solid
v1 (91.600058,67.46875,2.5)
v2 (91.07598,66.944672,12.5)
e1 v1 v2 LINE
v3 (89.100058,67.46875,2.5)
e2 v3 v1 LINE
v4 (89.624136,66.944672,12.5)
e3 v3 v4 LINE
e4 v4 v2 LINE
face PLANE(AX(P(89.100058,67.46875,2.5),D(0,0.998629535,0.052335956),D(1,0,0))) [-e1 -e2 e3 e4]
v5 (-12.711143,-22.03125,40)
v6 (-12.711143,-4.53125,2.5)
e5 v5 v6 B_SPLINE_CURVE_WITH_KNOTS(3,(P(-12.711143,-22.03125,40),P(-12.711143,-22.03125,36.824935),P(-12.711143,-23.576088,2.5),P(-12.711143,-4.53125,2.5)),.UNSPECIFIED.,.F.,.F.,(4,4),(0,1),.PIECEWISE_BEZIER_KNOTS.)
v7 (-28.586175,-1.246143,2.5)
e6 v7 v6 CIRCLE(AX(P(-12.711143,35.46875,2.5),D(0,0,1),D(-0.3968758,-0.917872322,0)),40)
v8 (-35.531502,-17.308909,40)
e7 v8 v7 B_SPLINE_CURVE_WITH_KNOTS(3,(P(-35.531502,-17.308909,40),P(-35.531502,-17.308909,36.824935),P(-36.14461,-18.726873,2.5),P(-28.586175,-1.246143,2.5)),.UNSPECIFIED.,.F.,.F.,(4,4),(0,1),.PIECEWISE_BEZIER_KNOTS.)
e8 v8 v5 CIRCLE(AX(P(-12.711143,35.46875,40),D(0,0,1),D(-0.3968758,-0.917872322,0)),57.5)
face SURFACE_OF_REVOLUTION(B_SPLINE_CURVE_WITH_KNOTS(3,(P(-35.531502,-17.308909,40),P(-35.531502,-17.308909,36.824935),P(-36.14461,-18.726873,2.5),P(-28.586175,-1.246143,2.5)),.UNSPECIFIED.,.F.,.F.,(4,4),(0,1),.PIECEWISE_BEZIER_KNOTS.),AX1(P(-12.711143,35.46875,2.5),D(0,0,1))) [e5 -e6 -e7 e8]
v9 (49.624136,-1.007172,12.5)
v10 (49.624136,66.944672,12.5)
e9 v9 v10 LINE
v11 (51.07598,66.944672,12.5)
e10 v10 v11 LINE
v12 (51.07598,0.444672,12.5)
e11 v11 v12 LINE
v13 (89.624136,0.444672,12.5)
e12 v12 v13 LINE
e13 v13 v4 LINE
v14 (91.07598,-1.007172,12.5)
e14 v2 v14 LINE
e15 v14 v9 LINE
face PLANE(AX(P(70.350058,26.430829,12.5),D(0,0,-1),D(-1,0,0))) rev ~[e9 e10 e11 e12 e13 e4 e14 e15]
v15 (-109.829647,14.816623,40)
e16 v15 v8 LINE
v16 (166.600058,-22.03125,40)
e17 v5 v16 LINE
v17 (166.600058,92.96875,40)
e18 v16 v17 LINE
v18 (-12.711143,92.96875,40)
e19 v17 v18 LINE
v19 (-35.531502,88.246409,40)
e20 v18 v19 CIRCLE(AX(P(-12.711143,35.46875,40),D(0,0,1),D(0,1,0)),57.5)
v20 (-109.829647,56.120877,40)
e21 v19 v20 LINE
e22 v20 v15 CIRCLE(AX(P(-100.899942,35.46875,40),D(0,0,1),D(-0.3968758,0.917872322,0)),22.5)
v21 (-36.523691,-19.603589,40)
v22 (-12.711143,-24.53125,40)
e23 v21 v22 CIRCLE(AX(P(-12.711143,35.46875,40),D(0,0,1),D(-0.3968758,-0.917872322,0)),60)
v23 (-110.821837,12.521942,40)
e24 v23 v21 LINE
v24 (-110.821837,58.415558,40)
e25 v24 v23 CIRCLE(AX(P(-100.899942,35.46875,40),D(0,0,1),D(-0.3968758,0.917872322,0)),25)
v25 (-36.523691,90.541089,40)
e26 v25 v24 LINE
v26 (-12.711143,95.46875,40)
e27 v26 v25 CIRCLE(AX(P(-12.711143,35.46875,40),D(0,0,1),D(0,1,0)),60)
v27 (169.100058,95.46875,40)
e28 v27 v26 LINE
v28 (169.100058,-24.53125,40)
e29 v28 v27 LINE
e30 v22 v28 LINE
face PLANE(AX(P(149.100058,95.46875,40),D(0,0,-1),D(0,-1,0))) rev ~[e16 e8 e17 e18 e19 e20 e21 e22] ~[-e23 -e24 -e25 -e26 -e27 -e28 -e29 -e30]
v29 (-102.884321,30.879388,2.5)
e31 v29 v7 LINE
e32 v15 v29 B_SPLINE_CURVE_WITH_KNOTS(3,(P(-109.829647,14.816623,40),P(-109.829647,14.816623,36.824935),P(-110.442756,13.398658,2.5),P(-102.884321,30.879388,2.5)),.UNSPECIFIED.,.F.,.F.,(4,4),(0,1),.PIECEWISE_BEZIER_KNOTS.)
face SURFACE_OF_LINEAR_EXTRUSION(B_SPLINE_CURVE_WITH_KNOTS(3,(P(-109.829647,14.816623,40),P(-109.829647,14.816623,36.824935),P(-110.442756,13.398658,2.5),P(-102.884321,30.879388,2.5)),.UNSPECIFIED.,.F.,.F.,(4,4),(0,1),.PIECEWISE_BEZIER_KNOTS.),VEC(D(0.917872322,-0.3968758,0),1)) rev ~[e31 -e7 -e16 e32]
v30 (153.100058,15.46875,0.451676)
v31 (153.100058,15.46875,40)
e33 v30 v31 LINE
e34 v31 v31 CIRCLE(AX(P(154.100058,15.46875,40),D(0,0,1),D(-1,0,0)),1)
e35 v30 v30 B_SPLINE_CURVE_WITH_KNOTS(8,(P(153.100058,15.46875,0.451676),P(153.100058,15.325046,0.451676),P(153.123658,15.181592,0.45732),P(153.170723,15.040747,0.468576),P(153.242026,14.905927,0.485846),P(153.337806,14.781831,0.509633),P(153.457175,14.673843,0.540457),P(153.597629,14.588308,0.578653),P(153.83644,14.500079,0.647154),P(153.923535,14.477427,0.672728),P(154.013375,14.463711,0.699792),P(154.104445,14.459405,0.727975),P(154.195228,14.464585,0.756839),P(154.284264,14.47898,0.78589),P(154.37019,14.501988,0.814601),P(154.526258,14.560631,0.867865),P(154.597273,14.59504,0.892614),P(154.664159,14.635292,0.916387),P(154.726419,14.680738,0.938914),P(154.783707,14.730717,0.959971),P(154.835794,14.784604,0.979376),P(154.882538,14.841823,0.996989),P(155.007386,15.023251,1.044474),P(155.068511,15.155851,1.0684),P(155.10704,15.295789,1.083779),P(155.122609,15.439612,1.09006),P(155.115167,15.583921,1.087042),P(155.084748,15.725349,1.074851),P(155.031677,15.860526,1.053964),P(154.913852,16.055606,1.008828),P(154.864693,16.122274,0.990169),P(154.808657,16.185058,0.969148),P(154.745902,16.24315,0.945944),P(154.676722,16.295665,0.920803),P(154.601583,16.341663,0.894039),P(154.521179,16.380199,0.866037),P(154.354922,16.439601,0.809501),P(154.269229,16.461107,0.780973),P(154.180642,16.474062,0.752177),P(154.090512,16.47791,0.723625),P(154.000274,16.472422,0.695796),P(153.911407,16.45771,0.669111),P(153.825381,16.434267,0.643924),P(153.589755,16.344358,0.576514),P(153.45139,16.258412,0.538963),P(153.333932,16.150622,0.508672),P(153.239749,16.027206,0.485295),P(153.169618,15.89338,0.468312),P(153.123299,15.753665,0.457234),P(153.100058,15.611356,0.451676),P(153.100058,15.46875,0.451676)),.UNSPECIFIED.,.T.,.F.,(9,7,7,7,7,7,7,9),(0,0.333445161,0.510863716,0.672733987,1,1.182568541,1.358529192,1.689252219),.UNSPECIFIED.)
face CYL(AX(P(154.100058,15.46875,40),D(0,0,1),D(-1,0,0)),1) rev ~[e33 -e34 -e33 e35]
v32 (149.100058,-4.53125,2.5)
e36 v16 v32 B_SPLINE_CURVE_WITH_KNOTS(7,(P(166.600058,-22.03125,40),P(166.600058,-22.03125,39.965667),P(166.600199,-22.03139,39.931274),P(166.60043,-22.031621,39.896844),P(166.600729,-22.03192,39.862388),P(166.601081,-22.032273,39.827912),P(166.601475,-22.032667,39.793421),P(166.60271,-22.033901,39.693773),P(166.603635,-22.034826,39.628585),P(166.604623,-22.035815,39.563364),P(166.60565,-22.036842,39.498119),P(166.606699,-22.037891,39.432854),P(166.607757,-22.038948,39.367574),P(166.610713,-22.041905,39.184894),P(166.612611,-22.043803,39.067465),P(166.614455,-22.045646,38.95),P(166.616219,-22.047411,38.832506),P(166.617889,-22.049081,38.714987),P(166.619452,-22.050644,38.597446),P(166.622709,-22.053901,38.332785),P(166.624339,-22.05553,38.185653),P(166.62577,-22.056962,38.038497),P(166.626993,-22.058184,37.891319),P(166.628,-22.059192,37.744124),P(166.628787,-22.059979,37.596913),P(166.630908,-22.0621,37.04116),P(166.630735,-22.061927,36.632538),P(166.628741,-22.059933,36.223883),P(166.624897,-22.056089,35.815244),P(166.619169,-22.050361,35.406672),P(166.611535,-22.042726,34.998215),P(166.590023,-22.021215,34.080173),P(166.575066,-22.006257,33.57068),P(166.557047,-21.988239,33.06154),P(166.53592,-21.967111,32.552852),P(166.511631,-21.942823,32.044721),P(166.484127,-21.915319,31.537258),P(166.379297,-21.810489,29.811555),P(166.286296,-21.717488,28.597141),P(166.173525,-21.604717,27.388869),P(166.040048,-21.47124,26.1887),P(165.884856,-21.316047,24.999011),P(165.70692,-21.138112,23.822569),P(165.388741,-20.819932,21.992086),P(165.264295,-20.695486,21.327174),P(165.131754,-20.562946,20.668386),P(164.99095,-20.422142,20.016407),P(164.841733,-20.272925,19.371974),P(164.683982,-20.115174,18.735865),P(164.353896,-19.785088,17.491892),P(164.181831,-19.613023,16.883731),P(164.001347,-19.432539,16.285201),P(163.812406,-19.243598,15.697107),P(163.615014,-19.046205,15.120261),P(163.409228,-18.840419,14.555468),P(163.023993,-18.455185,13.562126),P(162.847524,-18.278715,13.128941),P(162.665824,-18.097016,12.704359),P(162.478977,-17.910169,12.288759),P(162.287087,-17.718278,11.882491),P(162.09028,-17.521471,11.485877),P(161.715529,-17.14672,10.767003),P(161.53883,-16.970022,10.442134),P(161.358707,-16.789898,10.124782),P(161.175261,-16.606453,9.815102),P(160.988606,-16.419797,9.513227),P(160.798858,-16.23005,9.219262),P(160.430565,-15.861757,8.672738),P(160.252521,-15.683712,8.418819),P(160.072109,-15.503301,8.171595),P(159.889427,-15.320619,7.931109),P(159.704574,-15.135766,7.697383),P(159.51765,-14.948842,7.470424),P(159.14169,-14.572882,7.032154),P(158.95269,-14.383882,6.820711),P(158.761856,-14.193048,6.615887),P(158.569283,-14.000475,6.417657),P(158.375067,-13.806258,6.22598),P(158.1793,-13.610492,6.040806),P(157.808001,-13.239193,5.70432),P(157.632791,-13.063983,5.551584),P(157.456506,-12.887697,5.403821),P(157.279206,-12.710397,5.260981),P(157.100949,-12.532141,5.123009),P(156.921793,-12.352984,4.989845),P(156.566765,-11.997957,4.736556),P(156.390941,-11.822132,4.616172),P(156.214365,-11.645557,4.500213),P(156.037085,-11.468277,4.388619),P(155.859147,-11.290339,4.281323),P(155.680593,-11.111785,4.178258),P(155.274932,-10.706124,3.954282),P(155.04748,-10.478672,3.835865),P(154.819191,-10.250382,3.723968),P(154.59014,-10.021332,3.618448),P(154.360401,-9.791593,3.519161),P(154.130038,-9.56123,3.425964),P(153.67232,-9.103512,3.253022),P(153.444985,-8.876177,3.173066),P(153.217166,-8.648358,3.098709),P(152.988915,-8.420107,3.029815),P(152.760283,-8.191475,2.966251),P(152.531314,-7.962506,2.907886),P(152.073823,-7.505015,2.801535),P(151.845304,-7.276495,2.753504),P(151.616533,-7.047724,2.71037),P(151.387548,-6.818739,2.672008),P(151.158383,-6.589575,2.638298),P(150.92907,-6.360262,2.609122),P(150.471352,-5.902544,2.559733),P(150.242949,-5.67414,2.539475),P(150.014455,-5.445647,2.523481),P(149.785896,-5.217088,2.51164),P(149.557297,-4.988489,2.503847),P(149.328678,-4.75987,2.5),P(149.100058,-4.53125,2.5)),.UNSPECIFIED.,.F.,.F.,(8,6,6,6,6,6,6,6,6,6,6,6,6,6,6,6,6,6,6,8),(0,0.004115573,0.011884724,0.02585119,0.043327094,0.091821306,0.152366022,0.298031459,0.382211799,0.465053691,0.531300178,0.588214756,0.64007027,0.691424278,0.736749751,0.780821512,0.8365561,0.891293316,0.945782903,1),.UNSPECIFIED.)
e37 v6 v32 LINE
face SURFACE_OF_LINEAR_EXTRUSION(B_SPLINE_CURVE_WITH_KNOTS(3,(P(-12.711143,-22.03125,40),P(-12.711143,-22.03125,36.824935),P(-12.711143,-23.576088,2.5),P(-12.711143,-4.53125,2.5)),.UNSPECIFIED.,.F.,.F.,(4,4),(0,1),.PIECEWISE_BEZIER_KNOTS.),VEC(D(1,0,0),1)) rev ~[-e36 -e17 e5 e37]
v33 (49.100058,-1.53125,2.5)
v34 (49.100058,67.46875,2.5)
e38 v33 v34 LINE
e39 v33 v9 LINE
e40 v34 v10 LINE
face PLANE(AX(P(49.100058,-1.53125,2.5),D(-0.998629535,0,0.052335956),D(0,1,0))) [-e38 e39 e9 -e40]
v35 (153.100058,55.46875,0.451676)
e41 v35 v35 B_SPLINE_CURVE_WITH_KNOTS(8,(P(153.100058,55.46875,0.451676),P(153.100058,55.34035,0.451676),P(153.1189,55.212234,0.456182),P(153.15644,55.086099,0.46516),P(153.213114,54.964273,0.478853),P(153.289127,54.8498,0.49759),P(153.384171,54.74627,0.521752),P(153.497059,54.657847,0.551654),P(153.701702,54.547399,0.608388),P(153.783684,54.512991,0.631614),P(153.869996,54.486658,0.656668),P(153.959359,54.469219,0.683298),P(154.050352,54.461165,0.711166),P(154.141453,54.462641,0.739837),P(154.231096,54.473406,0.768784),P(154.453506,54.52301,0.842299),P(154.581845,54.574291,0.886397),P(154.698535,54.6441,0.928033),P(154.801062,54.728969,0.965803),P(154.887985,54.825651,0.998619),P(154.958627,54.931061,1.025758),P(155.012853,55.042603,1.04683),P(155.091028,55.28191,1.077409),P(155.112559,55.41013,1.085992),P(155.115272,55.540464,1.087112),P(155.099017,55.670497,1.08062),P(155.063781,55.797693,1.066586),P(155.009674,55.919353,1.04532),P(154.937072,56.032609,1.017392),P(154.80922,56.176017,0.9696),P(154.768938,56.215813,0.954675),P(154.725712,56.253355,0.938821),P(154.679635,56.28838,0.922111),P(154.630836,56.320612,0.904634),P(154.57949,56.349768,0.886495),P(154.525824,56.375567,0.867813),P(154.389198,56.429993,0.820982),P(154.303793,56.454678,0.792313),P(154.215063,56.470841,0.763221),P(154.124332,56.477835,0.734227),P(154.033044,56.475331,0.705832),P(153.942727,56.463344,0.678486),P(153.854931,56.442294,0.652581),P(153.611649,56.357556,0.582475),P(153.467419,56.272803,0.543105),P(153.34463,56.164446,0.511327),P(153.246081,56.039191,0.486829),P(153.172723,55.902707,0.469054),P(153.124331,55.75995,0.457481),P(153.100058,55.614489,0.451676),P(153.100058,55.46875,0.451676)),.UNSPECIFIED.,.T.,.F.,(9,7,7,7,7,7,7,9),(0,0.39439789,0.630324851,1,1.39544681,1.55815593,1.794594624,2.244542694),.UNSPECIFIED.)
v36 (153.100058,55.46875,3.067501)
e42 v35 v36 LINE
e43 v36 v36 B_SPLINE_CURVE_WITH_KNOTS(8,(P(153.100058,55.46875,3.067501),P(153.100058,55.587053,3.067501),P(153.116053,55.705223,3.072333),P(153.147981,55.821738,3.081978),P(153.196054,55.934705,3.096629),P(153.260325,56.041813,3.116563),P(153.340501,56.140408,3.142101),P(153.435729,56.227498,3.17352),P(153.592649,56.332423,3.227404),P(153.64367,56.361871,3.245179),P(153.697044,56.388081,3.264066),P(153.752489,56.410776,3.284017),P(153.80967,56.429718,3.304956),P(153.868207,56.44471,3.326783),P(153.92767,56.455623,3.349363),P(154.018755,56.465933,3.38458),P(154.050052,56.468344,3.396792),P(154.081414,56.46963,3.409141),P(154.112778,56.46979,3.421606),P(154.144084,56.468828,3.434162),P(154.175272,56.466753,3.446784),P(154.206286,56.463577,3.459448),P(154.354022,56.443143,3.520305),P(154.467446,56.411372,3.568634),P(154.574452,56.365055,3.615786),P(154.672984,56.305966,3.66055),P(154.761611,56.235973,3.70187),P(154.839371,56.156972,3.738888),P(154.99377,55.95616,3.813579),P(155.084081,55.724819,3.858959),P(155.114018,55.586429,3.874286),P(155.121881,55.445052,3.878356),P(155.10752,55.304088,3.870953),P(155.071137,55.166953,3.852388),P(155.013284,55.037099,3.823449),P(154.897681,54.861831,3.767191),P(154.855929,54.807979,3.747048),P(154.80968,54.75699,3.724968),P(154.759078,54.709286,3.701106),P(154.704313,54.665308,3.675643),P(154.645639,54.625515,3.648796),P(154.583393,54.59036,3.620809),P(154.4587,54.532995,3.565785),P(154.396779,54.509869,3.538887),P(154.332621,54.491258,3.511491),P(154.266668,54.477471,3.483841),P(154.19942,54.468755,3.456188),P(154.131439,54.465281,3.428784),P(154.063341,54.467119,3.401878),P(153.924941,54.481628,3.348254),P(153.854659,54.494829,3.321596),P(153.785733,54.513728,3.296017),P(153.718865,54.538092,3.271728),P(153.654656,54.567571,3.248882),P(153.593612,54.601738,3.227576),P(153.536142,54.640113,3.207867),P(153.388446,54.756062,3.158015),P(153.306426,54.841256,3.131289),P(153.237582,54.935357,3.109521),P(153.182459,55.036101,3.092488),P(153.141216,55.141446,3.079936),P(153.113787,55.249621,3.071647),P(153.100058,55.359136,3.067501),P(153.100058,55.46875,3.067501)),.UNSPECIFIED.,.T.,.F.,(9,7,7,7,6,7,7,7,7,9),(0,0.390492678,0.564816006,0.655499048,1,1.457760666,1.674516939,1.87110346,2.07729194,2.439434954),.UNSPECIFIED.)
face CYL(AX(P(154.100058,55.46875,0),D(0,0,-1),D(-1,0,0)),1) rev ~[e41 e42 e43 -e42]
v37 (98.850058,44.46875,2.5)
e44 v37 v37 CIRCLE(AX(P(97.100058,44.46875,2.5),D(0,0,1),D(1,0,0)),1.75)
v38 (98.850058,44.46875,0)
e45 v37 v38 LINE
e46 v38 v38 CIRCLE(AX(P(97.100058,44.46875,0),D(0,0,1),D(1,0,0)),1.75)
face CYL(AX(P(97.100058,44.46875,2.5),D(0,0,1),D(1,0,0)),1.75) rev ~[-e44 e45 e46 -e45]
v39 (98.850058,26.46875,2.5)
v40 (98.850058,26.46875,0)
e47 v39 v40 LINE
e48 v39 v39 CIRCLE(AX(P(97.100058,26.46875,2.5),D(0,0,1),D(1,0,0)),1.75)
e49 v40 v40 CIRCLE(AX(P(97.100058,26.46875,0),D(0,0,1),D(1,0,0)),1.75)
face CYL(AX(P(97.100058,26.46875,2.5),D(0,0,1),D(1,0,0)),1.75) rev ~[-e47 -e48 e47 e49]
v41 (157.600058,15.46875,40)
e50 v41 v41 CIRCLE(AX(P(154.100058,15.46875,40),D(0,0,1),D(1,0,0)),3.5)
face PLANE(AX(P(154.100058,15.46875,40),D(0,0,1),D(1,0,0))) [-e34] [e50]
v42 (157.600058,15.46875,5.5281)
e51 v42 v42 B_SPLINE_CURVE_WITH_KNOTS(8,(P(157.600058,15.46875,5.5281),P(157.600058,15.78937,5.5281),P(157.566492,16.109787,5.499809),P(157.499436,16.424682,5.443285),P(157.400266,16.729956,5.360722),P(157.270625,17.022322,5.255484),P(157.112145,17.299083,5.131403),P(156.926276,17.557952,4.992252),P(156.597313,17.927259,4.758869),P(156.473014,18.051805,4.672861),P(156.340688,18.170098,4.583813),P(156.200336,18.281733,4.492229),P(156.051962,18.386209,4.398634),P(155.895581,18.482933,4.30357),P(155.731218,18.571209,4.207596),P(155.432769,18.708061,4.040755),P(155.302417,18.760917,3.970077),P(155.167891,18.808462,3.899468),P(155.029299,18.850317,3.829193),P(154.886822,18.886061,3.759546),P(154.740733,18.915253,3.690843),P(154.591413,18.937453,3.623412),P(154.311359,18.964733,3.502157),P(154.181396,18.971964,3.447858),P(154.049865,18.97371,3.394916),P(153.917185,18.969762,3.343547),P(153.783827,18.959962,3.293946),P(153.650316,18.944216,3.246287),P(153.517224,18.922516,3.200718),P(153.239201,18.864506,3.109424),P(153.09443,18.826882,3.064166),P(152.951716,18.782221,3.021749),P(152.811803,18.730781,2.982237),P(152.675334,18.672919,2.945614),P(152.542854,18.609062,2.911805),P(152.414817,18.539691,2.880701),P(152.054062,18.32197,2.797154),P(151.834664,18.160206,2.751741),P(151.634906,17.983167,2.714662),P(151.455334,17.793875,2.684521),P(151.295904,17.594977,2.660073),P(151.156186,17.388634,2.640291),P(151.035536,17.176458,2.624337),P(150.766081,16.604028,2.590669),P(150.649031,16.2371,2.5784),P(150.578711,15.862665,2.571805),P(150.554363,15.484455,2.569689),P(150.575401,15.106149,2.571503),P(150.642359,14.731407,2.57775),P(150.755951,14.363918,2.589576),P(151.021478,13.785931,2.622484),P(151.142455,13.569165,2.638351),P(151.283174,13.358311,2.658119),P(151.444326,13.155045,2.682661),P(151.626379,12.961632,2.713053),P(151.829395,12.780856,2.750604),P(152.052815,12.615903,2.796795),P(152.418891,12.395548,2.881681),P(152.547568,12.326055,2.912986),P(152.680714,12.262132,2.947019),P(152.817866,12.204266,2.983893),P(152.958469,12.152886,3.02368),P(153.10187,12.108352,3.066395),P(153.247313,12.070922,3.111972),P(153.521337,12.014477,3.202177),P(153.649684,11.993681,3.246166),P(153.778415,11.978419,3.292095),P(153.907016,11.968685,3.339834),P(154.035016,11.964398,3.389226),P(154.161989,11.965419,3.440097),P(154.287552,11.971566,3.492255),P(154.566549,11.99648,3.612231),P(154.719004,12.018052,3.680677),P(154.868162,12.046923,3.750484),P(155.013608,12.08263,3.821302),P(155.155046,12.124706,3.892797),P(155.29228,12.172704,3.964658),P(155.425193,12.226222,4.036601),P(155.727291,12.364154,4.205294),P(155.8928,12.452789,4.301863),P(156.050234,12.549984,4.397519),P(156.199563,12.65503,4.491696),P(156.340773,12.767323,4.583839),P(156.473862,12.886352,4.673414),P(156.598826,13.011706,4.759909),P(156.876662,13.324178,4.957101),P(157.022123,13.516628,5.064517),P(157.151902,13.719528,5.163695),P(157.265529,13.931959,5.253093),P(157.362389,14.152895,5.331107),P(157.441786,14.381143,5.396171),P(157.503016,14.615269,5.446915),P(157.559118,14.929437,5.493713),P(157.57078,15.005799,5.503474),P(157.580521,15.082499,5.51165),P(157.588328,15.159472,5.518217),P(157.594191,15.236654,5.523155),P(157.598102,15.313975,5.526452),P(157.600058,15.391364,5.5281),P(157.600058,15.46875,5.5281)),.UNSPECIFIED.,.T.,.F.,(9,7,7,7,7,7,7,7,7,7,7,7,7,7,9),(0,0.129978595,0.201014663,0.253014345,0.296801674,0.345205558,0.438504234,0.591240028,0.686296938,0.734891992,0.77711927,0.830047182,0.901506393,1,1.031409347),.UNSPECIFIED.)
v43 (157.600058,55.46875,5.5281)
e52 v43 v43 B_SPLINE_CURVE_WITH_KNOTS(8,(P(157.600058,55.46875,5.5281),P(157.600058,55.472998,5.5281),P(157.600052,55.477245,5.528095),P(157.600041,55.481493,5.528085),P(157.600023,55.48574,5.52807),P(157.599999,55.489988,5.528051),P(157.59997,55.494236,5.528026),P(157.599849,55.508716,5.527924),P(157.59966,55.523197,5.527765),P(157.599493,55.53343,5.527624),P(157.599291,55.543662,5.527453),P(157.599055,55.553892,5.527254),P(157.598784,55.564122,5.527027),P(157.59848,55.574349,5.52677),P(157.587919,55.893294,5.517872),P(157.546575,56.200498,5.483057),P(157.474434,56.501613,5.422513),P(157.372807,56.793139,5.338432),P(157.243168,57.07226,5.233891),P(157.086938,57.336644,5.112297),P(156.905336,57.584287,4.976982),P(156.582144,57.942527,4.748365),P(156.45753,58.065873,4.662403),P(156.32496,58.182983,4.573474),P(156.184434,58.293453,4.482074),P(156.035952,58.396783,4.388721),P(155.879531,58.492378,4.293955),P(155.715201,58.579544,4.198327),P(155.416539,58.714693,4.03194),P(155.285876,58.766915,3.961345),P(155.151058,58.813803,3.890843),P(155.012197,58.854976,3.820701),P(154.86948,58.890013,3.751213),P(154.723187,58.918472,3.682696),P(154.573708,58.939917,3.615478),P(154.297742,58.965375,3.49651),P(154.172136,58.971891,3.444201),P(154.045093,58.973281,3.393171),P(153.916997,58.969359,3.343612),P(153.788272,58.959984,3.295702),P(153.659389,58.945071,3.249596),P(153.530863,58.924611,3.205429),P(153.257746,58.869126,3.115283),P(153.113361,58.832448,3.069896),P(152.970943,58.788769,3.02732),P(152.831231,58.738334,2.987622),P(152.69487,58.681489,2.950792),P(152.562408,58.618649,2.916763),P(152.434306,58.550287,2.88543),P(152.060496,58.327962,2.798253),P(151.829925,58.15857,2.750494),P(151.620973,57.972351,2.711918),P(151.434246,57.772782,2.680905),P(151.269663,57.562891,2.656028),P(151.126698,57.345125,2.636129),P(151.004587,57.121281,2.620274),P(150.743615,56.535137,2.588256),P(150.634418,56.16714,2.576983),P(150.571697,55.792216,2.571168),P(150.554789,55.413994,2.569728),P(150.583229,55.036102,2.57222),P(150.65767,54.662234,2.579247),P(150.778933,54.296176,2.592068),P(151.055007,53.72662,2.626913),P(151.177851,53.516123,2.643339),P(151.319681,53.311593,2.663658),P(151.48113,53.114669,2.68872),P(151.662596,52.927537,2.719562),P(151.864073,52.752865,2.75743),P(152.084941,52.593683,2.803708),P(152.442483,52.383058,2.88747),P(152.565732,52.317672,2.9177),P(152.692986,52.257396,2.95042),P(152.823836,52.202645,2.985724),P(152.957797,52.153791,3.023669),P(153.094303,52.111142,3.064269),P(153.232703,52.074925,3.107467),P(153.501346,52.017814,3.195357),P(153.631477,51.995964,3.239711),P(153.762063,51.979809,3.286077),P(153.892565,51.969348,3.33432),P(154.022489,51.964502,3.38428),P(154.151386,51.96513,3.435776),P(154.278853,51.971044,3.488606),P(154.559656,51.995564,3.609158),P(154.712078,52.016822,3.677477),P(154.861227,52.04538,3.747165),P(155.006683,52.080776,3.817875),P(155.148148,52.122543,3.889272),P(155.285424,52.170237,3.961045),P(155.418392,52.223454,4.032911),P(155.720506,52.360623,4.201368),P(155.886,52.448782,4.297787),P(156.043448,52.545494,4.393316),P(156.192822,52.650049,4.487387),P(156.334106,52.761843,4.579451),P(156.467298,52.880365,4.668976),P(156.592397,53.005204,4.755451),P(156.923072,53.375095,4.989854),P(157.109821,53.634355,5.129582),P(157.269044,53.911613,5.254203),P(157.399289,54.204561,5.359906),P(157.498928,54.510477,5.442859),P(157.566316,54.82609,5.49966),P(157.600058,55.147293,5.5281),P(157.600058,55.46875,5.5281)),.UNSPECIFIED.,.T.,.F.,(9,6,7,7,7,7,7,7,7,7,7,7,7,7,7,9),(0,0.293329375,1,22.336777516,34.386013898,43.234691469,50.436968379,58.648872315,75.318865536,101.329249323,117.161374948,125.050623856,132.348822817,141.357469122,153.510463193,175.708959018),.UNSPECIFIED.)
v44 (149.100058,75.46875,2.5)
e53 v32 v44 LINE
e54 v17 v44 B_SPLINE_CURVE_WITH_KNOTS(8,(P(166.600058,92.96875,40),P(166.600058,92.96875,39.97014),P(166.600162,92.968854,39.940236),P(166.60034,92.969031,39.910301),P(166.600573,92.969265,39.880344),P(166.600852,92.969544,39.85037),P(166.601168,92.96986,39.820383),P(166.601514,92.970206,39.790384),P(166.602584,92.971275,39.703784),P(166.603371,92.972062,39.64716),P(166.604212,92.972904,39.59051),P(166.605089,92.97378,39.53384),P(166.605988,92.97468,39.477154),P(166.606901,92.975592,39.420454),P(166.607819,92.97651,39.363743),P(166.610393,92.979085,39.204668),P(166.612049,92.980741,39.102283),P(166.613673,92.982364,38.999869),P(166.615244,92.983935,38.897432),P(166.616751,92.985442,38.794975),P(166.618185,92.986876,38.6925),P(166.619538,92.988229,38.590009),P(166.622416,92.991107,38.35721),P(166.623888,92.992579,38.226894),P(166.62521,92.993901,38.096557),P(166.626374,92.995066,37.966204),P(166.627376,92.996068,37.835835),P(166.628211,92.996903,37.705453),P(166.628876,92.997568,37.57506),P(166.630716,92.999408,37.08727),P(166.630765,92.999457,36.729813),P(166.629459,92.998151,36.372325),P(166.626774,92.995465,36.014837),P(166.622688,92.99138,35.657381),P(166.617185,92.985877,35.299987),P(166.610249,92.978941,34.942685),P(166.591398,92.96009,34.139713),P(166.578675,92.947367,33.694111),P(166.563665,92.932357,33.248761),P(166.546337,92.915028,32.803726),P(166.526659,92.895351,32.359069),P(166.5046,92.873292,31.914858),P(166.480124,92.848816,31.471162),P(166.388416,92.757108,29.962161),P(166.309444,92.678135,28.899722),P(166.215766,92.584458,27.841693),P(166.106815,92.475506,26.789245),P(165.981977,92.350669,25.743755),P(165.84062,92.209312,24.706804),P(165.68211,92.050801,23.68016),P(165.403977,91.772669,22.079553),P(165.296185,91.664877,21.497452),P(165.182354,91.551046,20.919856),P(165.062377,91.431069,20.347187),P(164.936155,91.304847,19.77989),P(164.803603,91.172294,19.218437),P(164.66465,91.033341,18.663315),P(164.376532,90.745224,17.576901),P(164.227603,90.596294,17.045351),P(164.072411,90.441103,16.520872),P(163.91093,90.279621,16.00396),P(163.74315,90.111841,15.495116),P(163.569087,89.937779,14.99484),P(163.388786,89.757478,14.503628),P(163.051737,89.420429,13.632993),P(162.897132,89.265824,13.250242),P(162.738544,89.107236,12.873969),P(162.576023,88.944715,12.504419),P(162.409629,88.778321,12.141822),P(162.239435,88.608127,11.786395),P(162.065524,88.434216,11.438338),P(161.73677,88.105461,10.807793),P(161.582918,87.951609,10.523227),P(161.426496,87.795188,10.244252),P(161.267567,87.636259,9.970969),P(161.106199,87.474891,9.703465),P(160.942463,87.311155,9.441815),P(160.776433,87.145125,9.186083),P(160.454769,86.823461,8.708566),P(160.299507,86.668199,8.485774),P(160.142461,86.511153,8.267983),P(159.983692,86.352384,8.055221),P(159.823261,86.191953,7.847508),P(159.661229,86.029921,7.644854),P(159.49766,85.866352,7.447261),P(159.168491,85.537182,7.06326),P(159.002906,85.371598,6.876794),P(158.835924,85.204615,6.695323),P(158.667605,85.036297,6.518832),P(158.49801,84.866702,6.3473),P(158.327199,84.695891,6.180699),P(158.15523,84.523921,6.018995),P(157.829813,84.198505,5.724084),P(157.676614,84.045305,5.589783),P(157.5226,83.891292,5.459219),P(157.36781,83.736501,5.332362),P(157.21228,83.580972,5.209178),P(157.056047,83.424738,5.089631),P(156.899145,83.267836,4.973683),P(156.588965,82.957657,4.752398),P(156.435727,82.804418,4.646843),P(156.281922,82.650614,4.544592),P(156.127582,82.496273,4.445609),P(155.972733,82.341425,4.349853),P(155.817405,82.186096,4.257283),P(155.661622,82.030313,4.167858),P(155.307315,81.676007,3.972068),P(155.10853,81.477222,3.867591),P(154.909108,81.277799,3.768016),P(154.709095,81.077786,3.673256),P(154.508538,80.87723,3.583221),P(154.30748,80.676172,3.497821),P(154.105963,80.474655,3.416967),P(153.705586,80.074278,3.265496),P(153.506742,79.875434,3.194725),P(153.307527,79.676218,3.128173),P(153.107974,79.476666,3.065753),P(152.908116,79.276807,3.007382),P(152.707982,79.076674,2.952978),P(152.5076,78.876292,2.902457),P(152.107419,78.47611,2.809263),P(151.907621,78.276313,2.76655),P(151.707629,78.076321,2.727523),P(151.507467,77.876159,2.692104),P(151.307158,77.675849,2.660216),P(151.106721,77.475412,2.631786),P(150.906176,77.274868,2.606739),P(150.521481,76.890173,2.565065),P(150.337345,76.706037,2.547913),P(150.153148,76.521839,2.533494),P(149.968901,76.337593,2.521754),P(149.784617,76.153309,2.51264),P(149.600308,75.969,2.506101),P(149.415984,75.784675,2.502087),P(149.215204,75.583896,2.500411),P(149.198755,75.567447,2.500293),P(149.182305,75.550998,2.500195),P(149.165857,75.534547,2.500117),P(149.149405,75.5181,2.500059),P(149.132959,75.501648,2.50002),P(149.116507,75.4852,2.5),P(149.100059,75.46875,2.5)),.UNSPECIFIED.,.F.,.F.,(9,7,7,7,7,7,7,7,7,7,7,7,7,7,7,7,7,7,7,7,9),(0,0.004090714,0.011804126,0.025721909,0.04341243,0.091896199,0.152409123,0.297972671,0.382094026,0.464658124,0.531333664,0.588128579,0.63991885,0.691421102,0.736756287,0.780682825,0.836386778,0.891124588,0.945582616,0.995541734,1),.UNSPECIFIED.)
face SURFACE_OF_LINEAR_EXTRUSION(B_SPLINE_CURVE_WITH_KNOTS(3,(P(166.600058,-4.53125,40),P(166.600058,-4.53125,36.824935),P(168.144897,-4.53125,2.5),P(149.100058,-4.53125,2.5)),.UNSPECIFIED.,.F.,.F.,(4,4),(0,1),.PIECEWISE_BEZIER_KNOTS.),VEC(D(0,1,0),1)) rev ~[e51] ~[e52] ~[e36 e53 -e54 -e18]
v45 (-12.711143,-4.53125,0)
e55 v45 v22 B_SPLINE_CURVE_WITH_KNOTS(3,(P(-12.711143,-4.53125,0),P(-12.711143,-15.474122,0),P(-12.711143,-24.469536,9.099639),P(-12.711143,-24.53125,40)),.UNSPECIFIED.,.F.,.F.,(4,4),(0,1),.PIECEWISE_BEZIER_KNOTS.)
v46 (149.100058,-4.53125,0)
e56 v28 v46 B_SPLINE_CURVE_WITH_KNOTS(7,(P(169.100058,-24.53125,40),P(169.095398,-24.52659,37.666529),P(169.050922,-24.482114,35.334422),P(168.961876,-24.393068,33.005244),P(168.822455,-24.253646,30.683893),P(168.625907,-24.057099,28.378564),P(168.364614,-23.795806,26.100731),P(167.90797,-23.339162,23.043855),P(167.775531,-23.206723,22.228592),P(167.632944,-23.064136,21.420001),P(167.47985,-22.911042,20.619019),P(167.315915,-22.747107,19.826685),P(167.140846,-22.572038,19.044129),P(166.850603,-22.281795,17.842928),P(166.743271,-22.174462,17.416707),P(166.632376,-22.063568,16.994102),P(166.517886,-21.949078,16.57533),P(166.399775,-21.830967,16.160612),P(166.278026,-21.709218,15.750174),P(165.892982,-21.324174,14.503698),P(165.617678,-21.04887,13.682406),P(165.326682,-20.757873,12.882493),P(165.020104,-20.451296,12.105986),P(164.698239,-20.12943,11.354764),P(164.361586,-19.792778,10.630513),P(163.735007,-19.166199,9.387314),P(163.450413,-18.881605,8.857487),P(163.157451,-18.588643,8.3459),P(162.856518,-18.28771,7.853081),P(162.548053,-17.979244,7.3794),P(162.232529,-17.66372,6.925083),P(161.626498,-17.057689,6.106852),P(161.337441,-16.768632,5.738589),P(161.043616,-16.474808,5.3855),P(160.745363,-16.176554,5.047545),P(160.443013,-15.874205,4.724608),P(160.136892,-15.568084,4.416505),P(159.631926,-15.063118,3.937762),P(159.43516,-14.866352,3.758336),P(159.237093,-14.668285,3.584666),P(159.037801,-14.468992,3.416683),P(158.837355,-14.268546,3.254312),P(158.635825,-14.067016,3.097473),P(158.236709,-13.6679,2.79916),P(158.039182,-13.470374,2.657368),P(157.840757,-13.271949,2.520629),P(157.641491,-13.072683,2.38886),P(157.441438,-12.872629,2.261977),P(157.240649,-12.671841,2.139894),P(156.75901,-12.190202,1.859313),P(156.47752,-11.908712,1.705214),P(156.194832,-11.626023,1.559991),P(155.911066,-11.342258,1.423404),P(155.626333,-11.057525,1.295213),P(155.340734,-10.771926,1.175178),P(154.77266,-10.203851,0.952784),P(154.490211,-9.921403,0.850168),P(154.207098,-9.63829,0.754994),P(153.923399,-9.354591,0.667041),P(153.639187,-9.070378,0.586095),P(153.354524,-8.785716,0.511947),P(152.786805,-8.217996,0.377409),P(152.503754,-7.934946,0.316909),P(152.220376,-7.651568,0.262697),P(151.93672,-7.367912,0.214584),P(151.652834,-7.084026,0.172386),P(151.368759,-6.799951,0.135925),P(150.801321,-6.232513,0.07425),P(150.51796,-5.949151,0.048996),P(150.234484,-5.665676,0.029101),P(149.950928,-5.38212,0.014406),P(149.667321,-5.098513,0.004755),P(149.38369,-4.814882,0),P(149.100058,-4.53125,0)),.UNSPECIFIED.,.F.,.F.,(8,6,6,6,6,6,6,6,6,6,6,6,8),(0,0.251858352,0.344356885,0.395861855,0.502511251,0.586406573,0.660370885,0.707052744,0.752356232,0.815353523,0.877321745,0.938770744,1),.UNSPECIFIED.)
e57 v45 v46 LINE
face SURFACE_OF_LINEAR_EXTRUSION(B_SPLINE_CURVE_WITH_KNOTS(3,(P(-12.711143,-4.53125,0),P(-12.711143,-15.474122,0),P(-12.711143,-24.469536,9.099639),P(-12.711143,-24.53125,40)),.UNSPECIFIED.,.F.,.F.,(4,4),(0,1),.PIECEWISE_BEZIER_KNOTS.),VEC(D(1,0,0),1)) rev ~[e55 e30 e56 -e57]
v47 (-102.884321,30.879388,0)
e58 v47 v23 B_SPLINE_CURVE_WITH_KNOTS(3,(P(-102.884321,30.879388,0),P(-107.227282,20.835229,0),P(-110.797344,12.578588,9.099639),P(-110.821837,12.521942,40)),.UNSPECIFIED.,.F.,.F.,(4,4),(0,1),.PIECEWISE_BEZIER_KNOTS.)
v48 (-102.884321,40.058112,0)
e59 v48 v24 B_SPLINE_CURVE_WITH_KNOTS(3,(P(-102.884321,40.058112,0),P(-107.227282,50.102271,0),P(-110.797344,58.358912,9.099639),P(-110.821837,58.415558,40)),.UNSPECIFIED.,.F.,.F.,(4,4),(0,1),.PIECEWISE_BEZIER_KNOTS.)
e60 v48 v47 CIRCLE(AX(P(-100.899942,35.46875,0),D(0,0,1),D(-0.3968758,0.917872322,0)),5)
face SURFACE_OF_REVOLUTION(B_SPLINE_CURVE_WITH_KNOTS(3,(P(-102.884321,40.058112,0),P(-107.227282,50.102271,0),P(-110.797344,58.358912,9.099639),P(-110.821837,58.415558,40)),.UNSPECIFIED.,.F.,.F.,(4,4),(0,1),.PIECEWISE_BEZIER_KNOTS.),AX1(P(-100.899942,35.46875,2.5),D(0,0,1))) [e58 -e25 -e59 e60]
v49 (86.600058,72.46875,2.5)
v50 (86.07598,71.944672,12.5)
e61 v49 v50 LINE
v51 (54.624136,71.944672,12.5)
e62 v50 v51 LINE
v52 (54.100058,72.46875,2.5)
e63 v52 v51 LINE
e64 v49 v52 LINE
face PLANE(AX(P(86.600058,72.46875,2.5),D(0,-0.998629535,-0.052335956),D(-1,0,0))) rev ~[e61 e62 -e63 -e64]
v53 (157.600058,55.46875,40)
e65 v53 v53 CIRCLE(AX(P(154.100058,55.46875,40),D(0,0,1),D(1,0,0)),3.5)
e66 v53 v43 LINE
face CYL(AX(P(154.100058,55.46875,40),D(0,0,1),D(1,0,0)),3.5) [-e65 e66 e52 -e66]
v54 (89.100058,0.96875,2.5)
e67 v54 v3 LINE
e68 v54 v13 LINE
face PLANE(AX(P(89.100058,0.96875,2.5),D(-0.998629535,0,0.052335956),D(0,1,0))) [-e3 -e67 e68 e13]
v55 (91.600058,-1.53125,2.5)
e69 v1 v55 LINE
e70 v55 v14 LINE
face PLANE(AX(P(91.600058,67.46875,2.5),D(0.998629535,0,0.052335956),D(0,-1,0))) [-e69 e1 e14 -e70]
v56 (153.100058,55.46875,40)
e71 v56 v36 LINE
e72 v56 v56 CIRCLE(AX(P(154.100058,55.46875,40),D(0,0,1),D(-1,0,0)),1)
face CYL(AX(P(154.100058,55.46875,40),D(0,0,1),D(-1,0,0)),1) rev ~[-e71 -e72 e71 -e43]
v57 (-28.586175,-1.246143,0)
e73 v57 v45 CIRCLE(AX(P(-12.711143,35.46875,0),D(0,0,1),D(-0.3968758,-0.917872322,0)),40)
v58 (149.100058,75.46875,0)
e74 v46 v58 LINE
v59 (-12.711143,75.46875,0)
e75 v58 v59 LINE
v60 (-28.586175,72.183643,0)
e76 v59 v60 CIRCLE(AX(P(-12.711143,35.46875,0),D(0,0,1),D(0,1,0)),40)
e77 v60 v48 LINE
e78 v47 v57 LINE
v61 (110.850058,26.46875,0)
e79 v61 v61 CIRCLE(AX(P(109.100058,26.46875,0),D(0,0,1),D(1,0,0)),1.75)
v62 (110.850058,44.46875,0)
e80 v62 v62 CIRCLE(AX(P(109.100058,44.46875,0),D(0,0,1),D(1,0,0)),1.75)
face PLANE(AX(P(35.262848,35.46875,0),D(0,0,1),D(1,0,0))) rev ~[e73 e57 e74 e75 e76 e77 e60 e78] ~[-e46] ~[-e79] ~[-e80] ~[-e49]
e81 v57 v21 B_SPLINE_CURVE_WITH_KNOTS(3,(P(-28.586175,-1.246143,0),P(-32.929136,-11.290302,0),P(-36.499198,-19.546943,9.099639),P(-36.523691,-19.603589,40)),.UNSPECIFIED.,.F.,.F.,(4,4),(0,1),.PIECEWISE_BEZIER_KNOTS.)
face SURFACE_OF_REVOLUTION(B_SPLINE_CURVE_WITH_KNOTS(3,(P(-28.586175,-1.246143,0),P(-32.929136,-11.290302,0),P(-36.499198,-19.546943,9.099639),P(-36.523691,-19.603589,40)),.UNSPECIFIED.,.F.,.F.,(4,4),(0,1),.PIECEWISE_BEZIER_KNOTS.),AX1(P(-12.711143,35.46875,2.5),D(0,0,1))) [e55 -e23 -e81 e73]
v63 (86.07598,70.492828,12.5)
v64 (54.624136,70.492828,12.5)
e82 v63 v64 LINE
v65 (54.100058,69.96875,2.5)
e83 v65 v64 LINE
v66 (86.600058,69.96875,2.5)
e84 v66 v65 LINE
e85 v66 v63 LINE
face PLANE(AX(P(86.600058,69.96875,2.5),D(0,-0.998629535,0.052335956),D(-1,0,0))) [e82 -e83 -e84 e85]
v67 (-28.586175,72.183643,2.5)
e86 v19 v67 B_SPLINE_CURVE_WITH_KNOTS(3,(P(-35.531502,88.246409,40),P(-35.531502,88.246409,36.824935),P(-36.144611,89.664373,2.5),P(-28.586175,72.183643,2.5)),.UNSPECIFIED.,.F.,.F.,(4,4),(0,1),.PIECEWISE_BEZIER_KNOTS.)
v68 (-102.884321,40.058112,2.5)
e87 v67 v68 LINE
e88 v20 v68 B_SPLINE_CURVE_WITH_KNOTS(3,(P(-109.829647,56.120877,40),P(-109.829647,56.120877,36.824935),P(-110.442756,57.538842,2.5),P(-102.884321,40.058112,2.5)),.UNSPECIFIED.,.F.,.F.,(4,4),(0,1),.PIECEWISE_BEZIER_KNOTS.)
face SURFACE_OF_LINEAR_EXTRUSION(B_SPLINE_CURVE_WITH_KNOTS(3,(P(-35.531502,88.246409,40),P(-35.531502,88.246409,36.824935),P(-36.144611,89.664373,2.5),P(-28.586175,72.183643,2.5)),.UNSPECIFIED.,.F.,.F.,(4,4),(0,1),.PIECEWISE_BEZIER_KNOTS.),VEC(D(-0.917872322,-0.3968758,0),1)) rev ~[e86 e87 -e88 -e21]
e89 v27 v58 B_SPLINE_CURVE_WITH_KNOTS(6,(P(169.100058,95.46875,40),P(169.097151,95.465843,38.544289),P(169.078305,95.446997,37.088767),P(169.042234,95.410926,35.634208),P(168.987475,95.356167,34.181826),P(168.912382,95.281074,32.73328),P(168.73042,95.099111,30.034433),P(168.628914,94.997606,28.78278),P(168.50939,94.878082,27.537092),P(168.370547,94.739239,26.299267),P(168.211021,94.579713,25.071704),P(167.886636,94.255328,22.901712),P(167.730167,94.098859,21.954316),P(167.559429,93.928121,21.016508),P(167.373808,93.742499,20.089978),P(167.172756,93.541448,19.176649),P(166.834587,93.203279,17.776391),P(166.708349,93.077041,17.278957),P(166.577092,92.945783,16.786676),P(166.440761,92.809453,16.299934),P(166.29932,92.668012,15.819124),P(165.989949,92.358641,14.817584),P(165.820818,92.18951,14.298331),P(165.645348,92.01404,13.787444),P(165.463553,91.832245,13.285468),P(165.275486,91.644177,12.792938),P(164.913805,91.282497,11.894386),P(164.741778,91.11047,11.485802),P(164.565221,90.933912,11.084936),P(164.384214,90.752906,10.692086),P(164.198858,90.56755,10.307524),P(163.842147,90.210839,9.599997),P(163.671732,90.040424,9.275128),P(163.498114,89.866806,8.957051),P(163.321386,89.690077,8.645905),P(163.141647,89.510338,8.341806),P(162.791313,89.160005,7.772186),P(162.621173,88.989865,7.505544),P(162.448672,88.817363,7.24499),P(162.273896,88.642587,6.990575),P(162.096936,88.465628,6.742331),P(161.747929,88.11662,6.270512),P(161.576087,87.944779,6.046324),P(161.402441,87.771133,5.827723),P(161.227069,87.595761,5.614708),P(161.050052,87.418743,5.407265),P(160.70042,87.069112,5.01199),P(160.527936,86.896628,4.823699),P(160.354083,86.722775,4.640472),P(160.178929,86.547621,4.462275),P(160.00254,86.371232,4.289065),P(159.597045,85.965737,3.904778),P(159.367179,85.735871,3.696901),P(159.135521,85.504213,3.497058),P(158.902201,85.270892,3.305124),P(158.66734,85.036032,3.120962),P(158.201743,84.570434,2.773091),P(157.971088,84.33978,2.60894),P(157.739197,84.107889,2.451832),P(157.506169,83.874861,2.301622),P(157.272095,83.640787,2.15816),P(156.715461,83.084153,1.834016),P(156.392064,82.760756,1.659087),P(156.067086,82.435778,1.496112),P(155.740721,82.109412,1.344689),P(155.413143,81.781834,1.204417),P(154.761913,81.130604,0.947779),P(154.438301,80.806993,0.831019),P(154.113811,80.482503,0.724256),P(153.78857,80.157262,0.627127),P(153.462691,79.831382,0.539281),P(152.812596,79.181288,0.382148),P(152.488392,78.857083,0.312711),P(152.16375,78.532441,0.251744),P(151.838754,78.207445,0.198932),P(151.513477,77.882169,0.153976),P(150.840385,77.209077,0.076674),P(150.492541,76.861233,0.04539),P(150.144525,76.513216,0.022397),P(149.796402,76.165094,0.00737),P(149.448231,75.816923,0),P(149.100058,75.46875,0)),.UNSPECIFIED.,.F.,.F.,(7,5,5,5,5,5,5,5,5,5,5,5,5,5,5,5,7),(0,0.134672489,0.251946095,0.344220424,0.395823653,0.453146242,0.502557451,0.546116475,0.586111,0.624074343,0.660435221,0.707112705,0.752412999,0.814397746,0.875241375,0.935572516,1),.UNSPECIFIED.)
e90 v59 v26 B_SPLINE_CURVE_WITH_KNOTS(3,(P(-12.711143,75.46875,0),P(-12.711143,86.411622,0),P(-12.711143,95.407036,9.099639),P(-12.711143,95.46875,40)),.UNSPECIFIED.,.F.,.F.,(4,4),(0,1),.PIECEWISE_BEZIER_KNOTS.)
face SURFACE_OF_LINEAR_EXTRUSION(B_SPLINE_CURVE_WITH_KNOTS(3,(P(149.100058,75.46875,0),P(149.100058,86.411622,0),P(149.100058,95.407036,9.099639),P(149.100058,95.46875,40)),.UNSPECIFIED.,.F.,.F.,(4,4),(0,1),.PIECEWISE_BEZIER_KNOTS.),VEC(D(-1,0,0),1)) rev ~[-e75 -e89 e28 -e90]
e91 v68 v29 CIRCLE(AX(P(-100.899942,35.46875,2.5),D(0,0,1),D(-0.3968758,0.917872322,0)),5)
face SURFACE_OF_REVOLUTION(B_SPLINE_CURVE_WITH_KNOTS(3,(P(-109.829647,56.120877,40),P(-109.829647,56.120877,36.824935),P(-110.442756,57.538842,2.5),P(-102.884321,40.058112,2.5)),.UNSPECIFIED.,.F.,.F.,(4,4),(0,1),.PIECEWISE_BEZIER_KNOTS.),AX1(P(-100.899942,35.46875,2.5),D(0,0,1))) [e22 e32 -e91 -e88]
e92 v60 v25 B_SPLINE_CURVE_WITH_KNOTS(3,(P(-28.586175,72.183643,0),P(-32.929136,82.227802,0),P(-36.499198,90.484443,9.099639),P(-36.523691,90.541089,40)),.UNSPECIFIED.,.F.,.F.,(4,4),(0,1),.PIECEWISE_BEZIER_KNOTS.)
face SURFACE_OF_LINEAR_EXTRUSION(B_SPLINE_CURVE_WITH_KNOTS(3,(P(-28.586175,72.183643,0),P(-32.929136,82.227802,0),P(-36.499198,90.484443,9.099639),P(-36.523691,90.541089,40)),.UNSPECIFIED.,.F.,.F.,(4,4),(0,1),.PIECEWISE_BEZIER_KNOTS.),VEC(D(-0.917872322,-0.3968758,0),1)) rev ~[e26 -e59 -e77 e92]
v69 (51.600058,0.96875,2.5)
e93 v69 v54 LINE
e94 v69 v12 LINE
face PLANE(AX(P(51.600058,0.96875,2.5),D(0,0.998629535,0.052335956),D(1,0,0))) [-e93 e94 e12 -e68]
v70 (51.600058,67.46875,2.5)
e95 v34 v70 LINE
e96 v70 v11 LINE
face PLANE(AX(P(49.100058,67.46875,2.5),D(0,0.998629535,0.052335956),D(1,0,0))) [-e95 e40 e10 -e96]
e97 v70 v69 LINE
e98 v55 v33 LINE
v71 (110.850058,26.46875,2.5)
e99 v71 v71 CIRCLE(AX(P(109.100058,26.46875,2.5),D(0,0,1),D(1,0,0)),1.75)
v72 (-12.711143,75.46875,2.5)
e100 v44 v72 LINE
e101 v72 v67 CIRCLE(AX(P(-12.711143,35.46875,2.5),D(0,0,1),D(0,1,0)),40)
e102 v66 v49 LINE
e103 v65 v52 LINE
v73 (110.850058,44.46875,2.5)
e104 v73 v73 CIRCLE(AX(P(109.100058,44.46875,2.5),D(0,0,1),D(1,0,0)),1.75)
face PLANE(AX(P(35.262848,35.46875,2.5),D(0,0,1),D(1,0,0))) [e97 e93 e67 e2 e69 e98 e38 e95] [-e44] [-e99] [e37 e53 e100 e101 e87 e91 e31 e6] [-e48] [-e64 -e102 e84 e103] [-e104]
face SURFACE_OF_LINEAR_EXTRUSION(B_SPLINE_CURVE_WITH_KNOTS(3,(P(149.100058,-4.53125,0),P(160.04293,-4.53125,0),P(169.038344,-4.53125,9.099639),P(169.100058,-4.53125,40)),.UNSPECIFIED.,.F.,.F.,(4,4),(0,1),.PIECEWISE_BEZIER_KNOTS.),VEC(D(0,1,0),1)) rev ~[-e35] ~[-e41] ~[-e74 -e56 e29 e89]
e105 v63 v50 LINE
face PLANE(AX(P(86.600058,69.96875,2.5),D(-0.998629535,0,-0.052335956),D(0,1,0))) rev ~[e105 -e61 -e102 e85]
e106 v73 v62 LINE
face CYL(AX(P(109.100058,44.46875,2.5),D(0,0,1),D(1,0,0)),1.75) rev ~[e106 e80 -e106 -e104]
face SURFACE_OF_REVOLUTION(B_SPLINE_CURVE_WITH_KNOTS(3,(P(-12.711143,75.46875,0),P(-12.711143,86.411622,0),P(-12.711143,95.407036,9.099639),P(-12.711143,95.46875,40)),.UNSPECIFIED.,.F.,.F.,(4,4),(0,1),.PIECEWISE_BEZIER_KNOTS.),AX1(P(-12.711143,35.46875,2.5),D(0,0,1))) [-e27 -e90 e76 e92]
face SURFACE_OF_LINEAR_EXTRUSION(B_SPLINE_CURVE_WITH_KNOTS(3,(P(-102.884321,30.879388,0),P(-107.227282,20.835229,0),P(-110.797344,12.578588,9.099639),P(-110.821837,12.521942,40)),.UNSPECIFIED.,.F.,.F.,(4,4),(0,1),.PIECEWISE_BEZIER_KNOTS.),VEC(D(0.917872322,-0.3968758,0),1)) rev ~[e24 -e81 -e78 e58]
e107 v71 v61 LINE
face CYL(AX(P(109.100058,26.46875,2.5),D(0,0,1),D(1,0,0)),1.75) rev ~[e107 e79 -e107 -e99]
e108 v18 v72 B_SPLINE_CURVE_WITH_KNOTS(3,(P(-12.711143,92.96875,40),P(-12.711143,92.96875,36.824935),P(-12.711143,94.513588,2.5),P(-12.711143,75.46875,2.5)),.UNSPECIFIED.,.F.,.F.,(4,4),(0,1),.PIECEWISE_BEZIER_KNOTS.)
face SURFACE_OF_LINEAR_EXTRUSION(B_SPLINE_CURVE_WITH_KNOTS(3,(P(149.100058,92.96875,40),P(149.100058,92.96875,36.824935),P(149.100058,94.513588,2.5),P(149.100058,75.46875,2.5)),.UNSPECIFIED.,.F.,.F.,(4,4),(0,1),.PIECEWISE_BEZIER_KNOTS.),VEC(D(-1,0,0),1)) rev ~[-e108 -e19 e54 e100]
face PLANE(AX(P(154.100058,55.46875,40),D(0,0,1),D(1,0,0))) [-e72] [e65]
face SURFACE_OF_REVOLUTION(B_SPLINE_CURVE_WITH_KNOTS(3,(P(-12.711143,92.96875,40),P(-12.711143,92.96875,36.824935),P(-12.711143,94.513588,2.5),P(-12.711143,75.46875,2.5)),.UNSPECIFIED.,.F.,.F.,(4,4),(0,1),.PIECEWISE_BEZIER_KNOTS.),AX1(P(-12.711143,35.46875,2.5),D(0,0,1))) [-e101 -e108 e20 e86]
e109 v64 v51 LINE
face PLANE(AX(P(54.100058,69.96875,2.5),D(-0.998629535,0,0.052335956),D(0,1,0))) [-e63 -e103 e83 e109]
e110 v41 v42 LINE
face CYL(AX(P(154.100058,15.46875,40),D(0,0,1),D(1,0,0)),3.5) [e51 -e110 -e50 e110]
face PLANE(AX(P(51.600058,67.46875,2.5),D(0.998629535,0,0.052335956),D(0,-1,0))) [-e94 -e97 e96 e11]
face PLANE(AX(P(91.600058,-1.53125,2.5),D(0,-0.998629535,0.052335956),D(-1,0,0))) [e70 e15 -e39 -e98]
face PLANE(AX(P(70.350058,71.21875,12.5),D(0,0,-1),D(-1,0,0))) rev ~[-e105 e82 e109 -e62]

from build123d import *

# Parameters (mm, degrees)
BOSS_EXTRU_1_DEPTH           = 2.5
ENL_V_MAT_EXTRU_1_REACH      = 169.131
ESQUISSE3_R                  = 1.75
BOSS_EXTRU_2_DEPTH           = 10
BOSS_EXTRU_2_DRAFT           = -3
ESQUISSE4_W                  = 32.5
ESQUISSE4_H                  = 2.5
BOSS_EXTRU_2_PROFILE_2_DEPTH = 10
BOSS_EXTRU_2_PROFILE_2_DRAFT = -3
ENL_V_MAT_EXTRU_2_REACH      = 200.265
ESQUISSE8_R                  = 1
BOSS_EXTRU_3_REACH           = 200.265
ESQUISSE9_R                  = 3.5
ESQUISSE9_R_2                = 1


with BuildPart() as part:
    # Esquisse1 → Boss.-Extru.1 (new body)
    with BuildSketch(Plane.XY):
        with BuildLine():
            Line((149.100058284, 75.46875), (-12.711143092, 75.46875))
            ThreePointArc((-12.711143092, 75.46875), (-20.816828901, 74.638864342), (-28.58617509, 72.183642878))
            Line((-28.58617509, 72.183642878), (-102.884320715, 40.05811161))
            ThreePointArc((-102.884320715, 40.05811161), (-105.899941716, 35.46875), (-102.884320715, 30.87938839))
            Line((-102.884320715, 30.87938839), (-28.58617509, -1.246142878))
            ThreePointArc((-28.58617509, -1.246142878), (-20.816828901, -3.701364342), (-12.711143092, -4.53125))
            Line((-12.711143092, -4.53125), (149.100058284, -4.53125))
            Line((149.100058284, -4.53125), (149.100058284, 75.46875))
        make_face()
    extrude(amount=BOSS_EXTRU_1_DEPTH)

    # Esquisse3 → Enlèv. mat.-Extru.1 (cut, up to next)
    with BuildSketch(Plane.XY.offset(2.5), mode=Mode.PRIVATE) as enl_v_mat_extru_1_sk1:
        with Locations((97.100058284, 44.46875)):
            Circle(ESQUISSE3_R)
    enl_v_mat_extru_1_tool1 = extrude(enl_v_mat_extru_1_sk1.sketch, amount=-ENL_V_MAT_EXTRU_1_REACH, mode=Mode.PRIVATE) & part.part
    # Esquisse3 → Enlèv. mat.-Extru.1 (cut, up to next)
    with BuildSketch(Plane.XY.offset(2.5), mode=Mode.PRIVATE) as enl_v_mat_extru_1_sk2:
        with Locations((97.100058284, 26.46875)):
            Circle(ESQUISSE3_R)
    enl_v_mat_extru_1_tool2 = extrude(enl_v_mat_extru_1_sk2.sketch, amount=-ENL_V_MAT_EXTRU_1_REACH, mode=Mode.PRIVATE) & part.part
    # Esquisse3 → Enlèv. mat.-Extru.1 (cut, up to next)
    with BuildSketch(Plane.XY.offset(2.5), mode=Mode.PRIVATE) as enl_v_mat_extru_1_sk3:
        with Locations((109.100058284, 26.46875)):
            Circle(ESQUISSE3_R)
    enl_v_mat_extru_1_tool3 = extrude(enl_v_mat_extru_1_sk3.sketch, amount=-ENL_V_MAT_EXTRU_1_REACH, mode=Mode.PRIVATE) & part.part
    # Esquisse3 → Enlèv. mat.-Extru.1 (cut, up to next)
    with BuildSketch(Plane.XY.offset(2.5), mode=Mode.PRIVATE) as enl_v_mat_extru_1_sk4:
        with Locations((109.100058284, 44.46875)):
            Circle(ESQUISSE3_R)
    enl_v_mat_extru_1_tool4 = extrude(enl_v_mat_extru_1_sk4.sketch, amount=-ENL_V_MAT_EXTRU_1_REACH, mode=Mode.PRIVATE) & part.part
    add(enl_v_mat_extru_1_tool1.solids().sort_by_distance((97.100058, 44.46875, 2.5))[0], mode=Mode.SUBTRACT)
    add(enl_v_mat_extru_1_tool2.solids().sort_by_distance((97.100058, 26.46875, 2.5))[0], mode=Mode.SUBTRACT)
    add(enl_v_mat_extru_1_tool3.solids().sort_by_distance((109.100058, 26.46875, 2.5))[0], mode=Mode.SUBTRACT)
    add(enl_v_mat_extru_1_tool4.solids().sort_by_distance((109.100058, 44.46875, 2.5))[0], mode=Mode.SUBTRACT)


with BuildPart() as boss_extru_2_tool:
    # Esquisse4 → Boss.-Extru.2 (with draft: the straight prism first)
    with BuildSketch(Plane(origin=(0, 0, 2.5), x_dir=(-1, 0, 0), z_dir=(0, 0, -1))):
        Polygon((-51.600058284, 0.96875), (-89.100058284, 0.96875), (-89.100058284, 67.46875), (-91.600058284, 67.46875), (-91.600058284, -1.53125), (-49.100058284, -1.53125), (-49.100058284, 67.46875), (-51.600058284, 67.46875), align=None)
    extrude(amount=-BOSS_EXTRU_2_DEPTH)
    # Boss.-Extru.2: the draft: its side faces are tilted about the plane it starts from
    boss_extru_2_sides = [boss_extru_2_tool.faces().sort_by_distance(p)[0] for p in [
        (70.350058284, 0.96875, 7.5),
        (89.100058284, 34.21875, 7.5),
        (90.350058284, 67.46875, 7.5),
        (91.600058284, 32.96875, 7.5),
        (70.350058284, -1.53125, 7.5),
        (49.100058284, 32.96875, 7.5),
        (50.350058284, 67.46875, 7.5),
        (51.600058284, 34.21875, 7.5),
    ]]
    draft(boss_extru_2_sides, Plane(origin=(0, 0, 2.5), x_dir=(-1, 0, 0), z_dir=(0, 0, -1)), BOSS_EXTRU_2_DRAFT)


with BuildPart() as part_1:
    add(part.part)

    # Boss.-Extru.2: add boss_extru_2_tool
    add(boss_extru_2_tool.part)


with BuildPart() as boss_extru_2_profile_2_tool:
    # Esquisse4 → Boss.-Extru.2 profile 2 (with draft: the straight prism first)
    with BuildSketch(Plane(origin=(0, 0, 2.5), x_dir=(-1, 0, 0), z_dir=(0, 0, -1))):
        with Locations((-70.350058284, 71.21875)):
            Rectangle(ESQUISSE4_W, ESQUISSE4_H)
    extrude(amount=-BOSS_EXTRU_2_PROFILE_2_DEPTH)
    # Boss.-Extru.2 profile 2: the draft: its side faces are tilted about the plane it starts from
    boss_extru_2_profile_2_sides = [boss_extru_2_profile_2_tool.faces().sort_by_distance(p)[0] for p in [
        (54.100058284, 71.21875, 7.5),
        (70.350058284, 72.46875, 7.5),
        (86.600058284, 71.21875, 7.5),
        (70.350058284, 69.96875, 7.5),
    ]]
    draft(boss_extru_2_profile_2_sides, Plane(origin=(0, 0, 2.5), x_dir=(-1, 0, 0), z_dir=(0, 0, -1)), BOSS_EXTRU_2_PROFILE_2_DRAFT)


with BuildPart() as part_2:
    add(part_1.part)

    # Boss.-Extru.2 profile 2: add boss_extru_2_profile_2_tool
    add(boss_extru_2_profile_2_tool.part)

    # Balayage1: sweep along a path in Esquisse5
    with BuildLine(Plane.XY.offset(2.5)) as balayage1_path:
        Line((149.100058284, 75.46875), (-12.711143092, 75.46875))
        ThreePointArc((-12.711143092, 75.46875), (-20.816828901, 74.638864342), (-28.58617509, 72.183642878))
        Line((-28.58617509, 72.183642878), (-102.884320715, 40.05811161))
        ThreePointArc((-102.884320715, 40.05811161), (-105.899941716, 35.46875), (-102.884320715, 30.87938839))
        Line((-102.884320715, 30.87938839), (-28.58617509, -1.246142878))
        ThreePointArc((-28.58617509, -1.246142878), (-20.816828901, -3.701364342), (-12.711143092, -4.53125))
        Line((-12.711143092, -4.53125), (149.100058284, -4.53125))
        Line((149.100058284, -4.53125), (149.100058284, 75.46875))
    # Esquisse7 → Balayage1 (sweep)
    with BuildSketch(Plane(origin=(149.100058284, 0, 0), x_dir=(0, 0, -1), z_dir=(1, 0, 0))):
        with BuildLine():
            Line((-2.5, 75.46875), (0, 75.46875))
            add(Edge.make_bspline(
                [(0, 75.46875), (0, 86.411621691), (-9.099638508, 95.407035507), (-40, 95.46875)],
                knots=[0, 0, 0, 0, 1, 1, 1, 1], degree=3))
            Line((-40, 95.46875), (-40, 92.96875))
            add(Edge.make_bspline(
                [(-40, 92.96875), (-36.824934583, 92.96875), (-2.5, 94.513588254), (-2.5, 75.46875)],
                knots=[0, 0, 0, 0, 1, 1, 1, 1], degree=3))
        make_face()
    sweep(path=balayage1_path.line, transition=Transition.RIGHT)

    # Esquisse8 → Enlèv. mat.-Extru.2 (cut, up to next)
    with BuildSketch(Plane(origin=(0, 0, 0), x_dir=(-1, 0, 0), z_dir=(0, 0, -1)), mode=Mode.PRIVATE) as enl_v_mat_extru_2_sk1:
        with Locations((-154.100058284, 55.46875)):
            Circle(ESQUISSE8_R)
    enl_v_mat_extru_2_tool1 = extrude(enl_v_mat_extru_2_sk1.sketch, amount=-ENL_V_MAT_EXTRU_2_REACH, mode=Mode.PRIVATE) & part_2.part
    # Esquisse8 → Enlèv. mat.-Extru.2 (cut, up to next)
    with BuildSketch(Plane(origin=(0, 0, 0), x_dir=(-1, 0, 0), z_dir=(0, 0, -1)), mode=Mode.PRIVATE) as enl_v_mat_extru_2_sk2:
        with Locations((-154.100058284, 15.46875)):
            Circle(ESQUISSE8_R)
    enl_v_mat_extru_2_tool2 = extrude(enl_v_mat_extru_2_sk2.sketch, amount=-ENL_V_MAT_EXTRU_2_REACH, mode=Mode.PRIVATE) & part_2.part
    add(enl_v_mat_extru_2_tool1.solids().sort_by_distance((154.100058, 55.46875, 0))[0], mode=Mode.SUBTRACT)
    add(enl_v_mat_extru_2_tool2.solids().sort_by_distance((154.100058, 15.46875, 0))[0], mode=Mode.SUBTRACT)

    # Esquisse9 → Boss.-Extru.3 (add, up to next)
    with BuildSketch(Plane.XY.offset(40), mode=Mode.PRIVATE) as boss_extru_3_sk1:
        with Locations((154.100058284, 15.46875)):
            Circle(ESQUISSE9_R)
        with Locations(Location((154.100058284, 15.46875, 0), (0, 0, 180))):
            Circle(ESQUISSE9_R_2, mode=Mode.SUBTRACT)
    boss_extru_3_tool1 = extrude(boss_extru_3_sk1.sketch, amount=-BOSS_EXTRU_3_REACH, mode=Mode.PRIVATE) - part_2.part
    # Esquisse9 → Boss.-Extru.3 (add, up to next)
    with BuildSketch(Plane.XY.offset(40), mode=Mode.PRIVATE) as boss_extru_3_sk2:
        with Locations((154.100058284, 55.46875)):
            Circle(ESQUISSE9_R)
        with Locations(Location((154.100058284, 55.46875, 0), (0, 0, 180))):
            Circle(ESQUISSE9_R_2, mode=Mode.SUBTRACT)
    boss_extru_3_tool2 = extrude(boss_extru_3_sk2.sketch, amount=-BOSS_EXTRU_3_REACH, mode=Mode.PRIVATE) - part_2.part
    add(boss_extru_3_tool1.solids().sort_by_distance((150.699053, 15.46875, 40))[0])
    add(boss_extru_3_tool2.solids().sort_by_distance((150.699053, 55.46875, 40))[0])


solid = part_2.part
